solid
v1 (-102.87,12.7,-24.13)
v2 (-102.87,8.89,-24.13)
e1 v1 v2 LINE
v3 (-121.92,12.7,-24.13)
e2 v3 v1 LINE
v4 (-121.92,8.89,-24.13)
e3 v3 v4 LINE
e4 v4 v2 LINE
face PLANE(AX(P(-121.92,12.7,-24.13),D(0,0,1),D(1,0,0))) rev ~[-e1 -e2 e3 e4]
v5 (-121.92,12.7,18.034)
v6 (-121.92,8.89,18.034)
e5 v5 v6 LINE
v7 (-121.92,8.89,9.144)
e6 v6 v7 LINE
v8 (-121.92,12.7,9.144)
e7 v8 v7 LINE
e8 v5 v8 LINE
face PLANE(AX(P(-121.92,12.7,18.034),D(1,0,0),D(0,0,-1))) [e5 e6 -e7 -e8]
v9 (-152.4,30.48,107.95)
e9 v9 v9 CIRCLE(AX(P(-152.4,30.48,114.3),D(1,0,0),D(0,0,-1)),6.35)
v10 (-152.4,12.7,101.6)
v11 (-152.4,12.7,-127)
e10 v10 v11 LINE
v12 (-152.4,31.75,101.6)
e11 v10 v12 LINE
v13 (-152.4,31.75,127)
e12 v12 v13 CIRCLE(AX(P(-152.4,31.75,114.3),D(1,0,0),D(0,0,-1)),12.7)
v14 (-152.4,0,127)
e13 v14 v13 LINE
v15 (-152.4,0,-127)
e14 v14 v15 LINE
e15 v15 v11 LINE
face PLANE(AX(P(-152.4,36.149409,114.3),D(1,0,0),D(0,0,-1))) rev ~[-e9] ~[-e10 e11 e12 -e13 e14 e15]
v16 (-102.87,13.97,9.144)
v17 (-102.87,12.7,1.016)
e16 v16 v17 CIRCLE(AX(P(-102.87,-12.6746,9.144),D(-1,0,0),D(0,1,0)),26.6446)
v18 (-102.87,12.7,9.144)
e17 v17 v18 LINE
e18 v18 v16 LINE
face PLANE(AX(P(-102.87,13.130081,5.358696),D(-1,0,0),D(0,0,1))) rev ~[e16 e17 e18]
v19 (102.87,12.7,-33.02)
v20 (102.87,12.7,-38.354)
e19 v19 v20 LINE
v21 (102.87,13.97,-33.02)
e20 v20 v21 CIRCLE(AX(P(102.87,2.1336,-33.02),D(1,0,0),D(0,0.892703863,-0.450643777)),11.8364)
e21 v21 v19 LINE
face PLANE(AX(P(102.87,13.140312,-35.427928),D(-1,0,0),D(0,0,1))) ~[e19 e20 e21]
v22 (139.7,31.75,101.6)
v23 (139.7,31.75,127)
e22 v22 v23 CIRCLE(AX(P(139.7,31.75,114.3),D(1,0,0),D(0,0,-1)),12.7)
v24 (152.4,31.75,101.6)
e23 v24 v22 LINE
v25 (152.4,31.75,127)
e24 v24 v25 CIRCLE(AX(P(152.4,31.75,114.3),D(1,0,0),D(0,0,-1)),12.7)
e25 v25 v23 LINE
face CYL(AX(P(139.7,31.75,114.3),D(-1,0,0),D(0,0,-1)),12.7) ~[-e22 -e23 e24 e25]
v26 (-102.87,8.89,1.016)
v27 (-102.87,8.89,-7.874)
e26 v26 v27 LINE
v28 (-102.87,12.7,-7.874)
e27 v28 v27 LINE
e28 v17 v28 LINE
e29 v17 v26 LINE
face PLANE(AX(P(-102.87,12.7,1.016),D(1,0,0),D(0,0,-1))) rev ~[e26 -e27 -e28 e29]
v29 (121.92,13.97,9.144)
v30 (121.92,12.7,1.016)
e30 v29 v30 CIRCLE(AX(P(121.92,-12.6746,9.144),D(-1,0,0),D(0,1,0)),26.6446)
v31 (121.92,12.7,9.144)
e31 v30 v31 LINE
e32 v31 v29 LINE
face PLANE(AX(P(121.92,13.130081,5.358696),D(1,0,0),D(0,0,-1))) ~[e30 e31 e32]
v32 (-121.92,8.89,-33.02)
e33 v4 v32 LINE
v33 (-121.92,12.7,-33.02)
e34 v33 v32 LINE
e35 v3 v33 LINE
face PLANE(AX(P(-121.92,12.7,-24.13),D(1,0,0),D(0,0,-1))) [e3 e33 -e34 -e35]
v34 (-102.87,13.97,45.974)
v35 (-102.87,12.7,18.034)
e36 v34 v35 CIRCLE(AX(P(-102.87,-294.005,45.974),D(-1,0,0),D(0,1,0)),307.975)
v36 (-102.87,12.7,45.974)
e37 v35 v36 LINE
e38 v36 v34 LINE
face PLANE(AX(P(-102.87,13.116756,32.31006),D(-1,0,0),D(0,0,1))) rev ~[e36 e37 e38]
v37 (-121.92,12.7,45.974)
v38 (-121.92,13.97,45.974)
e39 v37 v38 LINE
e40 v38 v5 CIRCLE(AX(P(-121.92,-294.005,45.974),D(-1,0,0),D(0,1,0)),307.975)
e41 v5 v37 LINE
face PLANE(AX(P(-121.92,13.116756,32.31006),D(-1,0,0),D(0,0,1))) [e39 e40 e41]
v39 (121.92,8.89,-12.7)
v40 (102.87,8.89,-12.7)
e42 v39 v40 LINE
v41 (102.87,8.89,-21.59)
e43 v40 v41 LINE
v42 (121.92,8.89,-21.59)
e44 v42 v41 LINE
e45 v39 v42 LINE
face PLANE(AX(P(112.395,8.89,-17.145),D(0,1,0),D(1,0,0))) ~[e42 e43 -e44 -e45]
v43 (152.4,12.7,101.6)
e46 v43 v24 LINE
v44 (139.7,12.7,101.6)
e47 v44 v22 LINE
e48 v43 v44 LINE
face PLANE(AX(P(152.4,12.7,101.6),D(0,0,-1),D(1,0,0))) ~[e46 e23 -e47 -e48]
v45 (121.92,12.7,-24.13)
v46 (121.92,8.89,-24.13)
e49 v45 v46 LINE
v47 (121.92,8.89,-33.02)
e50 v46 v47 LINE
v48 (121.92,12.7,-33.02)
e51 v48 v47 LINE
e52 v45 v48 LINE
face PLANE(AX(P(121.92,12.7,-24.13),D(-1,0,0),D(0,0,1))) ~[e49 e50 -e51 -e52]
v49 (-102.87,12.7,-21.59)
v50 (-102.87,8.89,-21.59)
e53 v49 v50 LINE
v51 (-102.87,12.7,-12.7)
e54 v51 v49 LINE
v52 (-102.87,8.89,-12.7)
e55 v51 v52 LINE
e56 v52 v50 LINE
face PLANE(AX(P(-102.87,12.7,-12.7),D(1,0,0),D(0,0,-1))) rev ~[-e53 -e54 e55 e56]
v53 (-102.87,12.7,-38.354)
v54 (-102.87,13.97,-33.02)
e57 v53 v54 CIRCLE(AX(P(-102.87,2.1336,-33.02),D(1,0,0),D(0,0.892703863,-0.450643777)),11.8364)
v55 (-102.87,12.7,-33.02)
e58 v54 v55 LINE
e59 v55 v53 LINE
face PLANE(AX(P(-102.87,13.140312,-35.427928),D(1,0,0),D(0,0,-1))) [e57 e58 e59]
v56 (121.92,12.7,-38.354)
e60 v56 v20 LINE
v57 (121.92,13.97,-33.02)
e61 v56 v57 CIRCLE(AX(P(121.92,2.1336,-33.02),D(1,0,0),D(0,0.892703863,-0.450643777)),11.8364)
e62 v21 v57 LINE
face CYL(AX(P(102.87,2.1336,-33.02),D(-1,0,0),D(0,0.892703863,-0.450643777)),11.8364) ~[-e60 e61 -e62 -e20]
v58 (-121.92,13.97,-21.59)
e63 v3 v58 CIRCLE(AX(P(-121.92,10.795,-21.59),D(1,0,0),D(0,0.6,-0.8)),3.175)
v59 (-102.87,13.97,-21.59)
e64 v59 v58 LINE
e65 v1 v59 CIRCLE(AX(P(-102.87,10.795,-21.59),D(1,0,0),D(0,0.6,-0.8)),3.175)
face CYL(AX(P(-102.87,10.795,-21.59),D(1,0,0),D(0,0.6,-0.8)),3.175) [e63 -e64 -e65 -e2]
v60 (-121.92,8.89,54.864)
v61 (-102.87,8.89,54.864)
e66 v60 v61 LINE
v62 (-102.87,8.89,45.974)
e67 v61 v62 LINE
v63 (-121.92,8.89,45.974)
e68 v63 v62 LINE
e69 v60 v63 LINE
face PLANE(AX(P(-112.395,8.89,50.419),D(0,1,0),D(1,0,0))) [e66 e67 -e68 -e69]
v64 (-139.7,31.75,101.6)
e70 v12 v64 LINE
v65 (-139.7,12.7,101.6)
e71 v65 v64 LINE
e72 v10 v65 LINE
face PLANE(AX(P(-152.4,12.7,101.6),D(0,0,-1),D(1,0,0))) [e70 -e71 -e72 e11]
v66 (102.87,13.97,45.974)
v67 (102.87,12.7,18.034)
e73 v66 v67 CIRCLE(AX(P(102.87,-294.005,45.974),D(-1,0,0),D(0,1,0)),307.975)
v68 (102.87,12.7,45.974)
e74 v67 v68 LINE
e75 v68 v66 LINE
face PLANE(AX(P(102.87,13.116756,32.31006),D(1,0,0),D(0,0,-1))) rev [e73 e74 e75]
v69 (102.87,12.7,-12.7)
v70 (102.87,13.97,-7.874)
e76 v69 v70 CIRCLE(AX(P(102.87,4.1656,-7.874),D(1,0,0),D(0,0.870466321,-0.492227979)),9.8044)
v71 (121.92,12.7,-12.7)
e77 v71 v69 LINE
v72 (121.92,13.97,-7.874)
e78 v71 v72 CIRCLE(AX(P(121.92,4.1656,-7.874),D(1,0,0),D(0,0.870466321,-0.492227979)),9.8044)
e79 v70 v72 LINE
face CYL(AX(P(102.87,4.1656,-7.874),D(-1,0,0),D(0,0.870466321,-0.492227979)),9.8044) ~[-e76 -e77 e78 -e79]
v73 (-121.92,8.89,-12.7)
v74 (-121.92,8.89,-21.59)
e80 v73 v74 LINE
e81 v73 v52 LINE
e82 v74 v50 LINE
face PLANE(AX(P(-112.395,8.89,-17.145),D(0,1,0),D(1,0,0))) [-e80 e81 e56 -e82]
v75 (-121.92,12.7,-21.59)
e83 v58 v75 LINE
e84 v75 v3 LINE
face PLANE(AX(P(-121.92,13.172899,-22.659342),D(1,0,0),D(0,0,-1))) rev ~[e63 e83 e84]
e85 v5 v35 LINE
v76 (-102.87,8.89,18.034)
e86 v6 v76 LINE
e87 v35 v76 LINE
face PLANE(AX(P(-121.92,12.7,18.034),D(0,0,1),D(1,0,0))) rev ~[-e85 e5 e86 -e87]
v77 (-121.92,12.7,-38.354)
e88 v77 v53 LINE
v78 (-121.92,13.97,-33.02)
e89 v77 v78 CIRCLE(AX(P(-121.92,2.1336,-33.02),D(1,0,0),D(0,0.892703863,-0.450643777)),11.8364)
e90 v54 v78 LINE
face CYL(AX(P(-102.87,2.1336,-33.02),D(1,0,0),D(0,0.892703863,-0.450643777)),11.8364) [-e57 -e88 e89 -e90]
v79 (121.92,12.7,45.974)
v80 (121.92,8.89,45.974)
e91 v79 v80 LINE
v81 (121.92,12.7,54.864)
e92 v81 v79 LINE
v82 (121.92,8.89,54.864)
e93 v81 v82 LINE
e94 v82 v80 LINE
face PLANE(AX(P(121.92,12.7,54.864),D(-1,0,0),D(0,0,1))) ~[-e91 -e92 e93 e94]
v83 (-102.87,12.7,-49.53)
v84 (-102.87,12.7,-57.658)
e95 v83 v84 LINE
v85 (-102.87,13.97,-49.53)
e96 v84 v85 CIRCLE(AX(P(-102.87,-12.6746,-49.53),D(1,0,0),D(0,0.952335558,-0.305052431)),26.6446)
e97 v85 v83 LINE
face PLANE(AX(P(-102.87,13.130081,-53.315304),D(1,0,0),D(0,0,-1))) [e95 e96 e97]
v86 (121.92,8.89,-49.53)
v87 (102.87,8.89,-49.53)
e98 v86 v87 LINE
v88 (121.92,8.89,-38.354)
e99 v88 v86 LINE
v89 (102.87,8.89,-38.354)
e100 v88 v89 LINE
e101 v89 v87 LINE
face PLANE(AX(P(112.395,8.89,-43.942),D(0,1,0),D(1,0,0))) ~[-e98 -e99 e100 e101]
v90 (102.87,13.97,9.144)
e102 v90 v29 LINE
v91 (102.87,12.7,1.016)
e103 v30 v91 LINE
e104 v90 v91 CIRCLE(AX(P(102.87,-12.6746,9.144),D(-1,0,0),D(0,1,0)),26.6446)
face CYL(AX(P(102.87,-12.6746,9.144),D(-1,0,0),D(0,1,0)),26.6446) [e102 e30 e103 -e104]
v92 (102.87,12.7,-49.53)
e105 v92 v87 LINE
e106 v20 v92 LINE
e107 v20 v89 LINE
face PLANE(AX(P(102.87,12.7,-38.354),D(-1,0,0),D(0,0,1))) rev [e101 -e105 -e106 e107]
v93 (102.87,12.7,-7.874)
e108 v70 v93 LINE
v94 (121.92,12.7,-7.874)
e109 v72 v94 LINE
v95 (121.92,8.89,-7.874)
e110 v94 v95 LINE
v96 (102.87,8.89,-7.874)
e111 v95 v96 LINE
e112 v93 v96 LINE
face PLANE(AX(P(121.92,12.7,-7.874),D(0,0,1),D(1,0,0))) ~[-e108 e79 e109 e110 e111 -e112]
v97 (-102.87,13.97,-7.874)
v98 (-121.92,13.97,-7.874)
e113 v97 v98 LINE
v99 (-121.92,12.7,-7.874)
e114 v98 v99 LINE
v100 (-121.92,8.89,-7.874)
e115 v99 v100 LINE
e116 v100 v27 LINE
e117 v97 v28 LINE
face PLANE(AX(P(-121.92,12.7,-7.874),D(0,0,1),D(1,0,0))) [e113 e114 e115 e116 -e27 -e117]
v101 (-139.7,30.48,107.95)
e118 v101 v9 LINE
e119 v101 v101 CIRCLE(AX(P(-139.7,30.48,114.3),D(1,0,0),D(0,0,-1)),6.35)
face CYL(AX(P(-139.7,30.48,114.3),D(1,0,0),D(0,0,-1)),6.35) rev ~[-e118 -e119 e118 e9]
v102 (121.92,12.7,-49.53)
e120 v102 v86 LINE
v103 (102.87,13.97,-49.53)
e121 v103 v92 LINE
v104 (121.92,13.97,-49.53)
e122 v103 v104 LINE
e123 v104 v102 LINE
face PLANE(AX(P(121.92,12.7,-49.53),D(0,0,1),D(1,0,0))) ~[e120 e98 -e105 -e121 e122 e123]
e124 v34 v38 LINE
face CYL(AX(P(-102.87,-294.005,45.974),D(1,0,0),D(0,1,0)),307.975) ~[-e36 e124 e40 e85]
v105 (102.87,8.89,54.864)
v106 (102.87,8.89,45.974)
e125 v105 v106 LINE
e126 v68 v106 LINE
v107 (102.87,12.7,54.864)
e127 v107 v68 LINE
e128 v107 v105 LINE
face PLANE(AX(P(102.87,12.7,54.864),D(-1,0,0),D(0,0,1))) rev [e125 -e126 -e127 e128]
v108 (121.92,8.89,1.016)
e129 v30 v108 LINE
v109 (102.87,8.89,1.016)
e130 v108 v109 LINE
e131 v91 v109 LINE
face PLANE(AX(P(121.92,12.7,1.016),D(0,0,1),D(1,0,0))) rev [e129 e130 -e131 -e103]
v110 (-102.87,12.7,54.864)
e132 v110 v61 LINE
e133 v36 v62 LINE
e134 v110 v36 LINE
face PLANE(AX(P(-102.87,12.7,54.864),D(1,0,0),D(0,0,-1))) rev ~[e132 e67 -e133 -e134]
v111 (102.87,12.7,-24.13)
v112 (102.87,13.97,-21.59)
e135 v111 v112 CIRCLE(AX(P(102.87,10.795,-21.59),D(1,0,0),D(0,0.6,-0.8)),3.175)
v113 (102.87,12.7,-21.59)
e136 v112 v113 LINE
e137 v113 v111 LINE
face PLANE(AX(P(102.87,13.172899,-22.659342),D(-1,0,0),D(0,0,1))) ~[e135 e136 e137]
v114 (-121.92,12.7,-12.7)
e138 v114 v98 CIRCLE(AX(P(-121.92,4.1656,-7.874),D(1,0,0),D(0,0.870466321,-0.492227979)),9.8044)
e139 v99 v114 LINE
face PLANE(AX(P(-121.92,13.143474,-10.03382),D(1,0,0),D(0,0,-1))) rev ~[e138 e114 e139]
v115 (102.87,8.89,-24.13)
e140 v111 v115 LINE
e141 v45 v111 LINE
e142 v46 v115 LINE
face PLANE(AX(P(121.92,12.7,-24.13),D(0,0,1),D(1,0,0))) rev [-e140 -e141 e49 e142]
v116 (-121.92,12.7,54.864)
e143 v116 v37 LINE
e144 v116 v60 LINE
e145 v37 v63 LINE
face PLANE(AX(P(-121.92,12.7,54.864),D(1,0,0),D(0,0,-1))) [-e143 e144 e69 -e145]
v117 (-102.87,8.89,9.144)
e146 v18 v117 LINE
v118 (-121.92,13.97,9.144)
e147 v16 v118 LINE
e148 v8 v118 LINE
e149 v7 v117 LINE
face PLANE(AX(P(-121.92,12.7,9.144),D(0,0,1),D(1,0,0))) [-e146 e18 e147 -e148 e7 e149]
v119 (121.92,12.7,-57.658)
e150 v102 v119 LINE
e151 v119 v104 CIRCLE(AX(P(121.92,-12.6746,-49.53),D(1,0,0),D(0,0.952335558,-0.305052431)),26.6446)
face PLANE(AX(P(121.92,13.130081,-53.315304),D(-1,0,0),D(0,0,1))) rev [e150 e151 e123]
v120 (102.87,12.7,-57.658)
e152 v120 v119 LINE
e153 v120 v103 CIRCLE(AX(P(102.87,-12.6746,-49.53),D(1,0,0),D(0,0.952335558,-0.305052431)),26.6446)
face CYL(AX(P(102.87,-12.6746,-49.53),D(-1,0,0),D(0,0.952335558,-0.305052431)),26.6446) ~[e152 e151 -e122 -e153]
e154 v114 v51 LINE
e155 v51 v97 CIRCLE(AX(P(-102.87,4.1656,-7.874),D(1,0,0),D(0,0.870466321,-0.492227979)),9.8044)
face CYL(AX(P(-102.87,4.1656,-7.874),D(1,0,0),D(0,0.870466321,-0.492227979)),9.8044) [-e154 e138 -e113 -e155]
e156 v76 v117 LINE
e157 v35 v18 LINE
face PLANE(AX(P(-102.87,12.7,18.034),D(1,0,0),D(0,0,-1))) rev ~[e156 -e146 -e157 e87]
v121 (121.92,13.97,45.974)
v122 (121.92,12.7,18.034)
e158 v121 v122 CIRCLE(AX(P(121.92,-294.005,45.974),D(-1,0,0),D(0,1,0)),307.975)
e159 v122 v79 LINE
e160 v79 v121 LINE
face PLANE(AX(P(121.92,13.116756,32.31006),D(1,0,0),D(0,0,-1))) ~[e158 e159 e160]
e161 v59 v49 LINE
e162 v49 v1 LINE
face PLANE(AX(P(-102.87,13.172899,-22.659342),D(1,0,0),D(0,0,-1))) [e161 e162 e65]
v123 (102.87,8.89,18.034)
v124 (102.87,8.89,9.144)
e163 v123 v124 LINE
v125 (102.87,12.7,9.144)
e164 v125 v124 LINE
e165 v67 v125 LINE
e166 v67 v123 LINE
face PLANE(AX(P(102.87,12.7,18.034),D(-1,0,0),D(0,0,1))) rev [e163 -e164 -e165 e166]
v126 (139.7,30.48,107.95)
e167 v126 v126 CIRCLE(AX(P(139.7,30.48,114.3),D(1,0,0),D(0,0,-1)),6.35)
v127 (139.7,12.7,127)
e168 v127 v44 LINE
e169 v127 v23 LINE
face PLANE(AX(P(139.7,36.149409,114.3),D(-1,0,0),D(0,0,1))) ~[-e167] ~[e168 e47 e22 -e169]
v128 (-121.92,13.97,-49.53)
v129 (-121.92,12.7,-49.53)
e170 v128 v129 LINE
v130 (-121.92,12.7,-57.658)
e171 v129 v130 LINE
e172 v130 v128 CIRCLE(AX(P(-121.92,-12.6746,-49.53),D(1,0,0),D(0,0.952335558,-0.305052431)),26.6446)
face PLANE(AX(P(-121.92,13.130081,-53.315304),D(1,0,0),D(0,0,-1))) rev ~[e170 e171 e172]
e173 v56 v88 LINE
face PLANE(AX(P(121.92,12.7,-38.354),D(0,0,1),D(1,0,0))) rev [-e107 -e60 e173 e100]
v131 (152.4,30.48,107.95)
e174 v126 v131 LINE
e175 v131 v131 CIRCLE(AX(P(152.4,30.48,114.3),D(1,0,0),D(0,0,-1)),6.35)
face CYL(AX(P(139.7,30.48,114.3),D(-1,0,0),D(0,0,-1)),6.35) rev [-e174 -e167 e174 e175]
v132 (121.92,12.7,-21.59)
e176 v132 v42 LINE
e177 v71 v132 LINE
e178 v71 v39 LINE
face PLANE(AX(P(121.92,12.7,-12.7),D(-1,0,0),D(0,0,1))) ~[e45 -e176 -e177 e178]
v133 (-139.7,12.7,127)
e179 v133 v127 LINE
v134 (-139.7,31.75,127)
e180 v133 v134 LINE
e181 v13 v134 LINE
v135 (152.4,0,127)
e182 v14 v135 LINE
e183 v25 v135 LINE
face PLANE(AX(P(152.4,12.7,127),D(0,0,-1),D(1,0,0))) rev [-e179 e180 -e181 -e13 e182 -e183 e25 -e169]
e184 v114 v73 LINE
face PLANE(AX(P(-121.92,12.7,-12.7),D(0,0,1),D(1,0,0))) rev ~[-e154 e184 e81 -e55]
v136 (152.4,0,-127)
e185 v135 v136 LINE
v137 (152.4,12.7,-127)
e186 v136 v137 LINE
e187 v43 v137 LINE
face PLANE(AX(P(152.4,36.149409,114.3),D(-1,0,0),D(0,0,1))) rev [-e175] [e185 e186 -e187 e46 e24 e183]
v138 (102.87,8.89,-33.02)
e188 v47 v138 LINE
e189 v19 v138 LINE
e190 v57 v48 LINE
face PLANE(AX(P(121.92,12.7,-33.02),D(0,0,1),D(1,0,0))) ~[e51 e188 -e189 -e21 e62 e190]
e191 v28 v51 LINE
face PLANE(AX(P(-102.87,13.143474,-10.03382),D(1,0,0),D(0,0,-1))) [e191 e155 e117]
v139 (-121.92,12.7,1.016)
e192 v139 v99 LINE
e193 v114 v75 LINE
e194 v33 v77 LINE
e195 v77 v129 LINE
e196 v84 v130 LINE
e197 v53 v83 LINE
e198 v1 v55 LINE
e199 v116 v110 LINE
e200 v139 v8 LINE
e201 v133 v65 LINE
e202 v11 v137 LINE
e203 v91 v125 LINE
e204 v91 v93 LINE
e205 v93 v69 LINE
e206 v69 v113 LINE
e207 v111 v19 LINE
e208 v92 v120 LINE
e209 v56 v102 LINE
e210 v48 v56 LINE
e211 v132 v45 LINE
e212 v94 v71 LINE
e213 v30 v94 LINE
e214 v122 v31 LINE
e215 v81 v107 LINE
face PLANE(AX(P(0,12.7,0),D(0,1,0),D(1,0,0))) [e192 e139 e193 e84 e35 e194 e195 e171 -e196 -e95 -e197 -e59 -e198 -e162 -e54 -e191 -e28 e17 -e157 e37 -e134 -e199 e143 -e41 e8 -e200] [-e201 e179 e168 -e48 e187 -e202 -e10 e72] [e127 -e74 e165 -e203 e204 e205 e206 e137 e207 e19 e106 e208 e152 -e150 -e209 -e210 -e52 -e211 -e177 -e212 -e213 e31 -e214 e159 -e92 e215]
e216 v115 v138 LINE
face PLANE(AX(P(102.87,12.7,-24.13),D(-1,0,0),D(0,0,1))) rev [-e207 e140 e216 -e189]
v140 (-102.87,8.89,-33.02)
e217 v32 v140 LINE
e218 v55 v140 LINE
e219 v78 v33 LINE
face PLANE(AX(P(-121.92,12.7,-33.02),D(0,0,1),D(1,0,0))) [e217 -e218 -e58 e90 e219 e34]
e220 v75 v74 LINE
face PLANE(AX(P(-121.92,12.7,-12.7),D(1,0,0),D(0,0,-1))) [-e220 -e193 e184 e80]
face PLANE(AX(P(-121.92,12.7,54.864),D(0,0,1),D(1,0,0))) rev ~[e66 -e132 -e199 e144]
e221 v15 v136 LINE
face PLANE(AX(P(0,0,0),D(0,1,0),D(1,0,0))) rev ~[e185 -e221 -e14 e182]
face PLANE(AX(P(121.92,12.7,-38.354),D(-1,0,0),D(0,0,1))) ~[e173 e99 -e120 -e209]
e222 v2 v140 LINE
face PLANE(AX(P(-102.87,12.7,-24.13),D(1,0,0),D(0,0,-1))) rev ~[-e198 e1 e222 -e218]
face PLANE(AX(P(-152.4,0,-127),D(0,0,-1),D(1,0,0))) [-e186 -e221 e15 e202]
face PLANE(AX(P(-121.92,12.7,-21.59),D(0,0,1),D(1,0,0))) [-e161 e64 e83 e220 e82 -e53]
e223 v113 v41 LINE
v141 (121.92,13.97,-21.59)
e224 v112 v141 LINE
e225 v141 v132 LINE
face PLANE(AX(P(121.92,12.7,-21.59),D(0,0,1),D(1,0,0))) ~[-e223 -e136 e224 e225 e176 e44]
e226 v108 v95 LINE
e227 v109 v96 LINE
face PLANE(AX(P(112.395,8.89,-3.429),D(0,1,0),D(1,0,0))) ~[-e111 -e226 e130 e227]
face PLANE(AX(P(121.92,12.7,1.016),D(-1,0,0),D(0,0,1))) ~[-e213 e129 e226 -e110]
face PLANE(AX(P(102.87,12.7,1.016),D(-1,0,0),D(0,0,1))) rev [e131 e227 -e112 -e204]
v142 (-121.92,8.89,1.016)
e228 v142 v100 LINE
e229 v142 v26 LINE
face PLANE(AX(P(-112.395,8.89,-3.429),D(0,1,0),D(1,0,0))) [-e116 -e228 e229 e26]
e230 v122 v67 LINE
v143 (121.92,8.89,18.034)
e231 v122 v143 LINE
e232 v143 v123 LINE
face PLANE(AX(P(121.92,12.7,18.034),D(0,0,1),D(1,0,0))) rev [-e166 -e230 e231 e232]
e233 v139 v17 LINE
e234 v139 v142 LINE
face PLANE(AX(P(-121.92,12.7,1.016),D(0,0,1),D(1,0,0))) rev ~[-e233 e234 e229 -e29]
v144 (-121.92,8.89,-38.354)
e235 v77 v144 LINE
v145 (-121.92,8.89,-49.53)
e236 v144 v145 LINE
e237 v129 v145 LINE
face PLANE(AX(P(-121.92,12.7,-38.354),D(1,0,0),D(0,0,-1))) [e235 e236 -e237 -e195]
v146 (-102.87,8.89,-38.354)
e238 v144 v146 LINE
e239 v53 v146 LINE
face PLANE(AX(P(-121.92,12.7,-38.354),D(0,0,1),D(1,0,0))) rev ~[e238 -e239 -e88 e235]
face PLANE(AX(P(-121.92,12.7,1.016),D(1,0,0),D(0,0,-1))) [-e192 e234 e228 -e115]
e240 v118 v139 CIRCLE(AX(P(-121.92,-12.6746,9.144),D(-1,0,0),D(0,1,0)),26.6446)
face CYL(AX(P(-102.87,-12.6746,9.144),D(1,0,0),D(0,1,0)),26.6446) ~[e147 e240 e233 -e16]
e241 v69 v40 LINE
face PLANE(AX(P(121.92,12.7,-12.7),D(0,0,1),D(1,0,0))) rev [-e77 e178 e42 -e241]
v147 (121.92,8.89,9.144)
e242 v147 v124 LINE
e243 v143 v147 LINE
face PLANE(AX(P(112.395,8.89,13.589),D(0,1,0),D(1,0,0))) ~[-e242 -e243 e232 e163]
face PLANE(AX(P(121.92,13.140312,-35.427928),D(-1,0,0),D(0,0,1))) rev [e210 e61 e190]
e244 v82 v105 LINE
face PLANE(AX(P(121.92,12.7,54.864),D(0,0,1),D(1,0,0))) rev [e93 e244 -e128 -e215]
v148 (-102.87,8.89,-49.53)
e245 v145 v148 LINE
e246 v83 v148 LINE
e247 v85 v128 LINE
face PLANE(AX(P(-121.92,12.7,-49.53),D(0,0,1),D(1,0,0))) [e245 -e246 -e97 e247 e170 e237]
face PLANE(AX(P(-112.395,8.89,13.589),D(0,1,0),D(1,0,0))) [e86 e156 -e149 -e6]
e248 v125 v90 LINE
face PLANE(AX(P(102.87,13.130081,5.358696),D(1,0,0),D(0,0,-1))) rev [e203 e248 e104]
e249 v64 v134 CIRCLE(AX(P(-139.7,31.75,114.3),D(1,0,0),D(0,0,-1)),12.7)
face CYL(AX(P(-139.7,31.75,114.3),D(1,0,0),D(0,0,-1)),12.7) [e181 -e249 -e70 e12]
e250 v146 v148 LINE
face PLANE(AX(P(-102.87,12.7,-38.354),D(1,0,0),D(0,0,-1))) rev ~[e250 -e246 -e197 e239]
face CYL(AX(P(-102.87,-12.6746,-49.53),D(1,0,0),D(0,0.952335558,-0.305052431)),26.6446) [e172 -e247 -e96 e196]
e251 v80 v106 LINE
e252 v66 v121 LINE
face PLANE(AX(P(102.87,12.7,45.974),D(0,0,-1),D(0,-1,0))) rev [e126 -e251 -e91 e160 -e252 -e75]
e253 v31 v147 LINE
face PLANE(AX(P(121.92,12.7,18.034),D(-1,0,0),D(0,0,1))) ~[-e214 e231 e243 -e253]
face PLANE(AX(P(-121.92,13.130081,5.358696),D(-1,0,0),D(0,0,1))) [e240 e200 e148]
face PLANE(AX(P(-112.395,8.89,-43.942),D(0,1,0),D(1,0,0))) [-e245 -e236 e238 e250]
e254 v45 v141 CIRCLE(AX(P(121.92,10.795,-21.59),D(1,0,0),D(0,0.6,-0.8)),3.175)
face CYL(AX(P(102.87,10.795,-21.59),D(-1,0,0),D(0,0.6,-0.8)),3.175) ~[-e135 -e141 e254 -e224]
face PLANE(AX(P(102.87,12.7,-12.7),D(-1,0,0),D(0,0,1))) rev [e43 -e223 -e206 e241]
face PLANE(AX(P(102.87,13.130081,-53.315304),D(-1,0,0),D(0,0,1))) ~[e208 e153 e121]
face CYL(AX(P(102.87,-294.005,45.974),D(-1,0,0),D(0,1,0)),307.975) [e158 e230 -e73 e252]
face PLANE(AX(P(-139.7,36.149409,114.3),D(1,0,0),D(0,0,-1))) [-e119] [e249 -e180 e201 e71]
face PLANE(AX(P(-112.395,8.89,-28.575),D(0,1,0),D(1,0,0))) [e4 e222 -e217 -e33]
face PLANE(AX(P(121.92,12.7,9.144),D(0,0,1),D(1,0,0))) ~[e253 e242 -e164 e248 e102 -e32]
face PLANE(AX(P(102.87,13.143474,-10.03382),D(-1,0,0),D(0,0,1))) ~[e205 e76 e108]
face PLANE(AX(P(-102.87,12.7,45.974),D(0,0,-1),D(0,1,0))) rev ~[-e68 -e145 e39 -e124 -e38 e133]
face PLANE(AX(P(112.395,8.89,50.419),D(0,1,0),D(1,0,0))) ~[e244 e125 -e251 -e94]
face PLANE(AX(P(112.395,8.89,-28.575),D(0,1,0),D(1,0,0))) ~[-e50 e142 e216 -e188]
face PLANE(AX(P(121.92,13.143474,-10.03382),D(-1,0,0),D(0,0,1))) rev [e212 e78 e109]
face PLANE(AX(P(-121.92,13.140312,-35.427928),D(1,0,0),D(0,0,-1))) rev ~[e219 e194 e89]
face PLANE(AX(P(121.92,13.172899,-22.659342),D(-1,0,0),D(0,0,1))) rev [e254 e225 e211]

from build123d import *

# Parameters (mm, degrees)
SKETCH1_W           = 304.8
SKETCH1_H           = 254
BOSS_EXTRUDE1_DEPTH = 12.7
SKETCH2_W           = 12.7
SKETCH2_H           = 25.4
BOSS_EXTRUDE2_DEPTH = 19.05
BOSS_EXTRUDE3_DEPTH = 12.7
SKETCH5_R           = 6.35
CUT_EXTRUDE1_DEPTH  = 12.7
SKETCH6_W           = 19.05
SKETCH6_H           = 8.89
SKETCH6_H_2         = 11.176
CUT_EXTRUDE2_DEPTH  = 3.81
BOSS_EXTRUDE4_DEPTH = 19.05


with BuildPart() as part:
    # Sketch1 → Boss-Extrude1 (new body)
    with BuildSketch(Plane(origin=(0, 0, 0), x_dir=(1, 0, 0), z_dir=(0, 1, 0))):
        Rectangle(SKETCH1_W, SKETCH1_H)
    extrude(amount=BOSS_EXTRUDE1_DEPTH)

    # Sketch2 → Boss-Extrude2 (add)
    with BuildSketch(Plane(origin=(0, 12.7, 0), x_dir=(1, 0, 0), z_dir=(0, 1, 0))):
        with Locations((-146.05, -114.3)):
            Rectangle(SKETCH2_W, SKETCH2_H)
    boss_extrude2 = extrude(amount=BOSS_EXTRUDE2_DEPTH)

    # Sketch4 → Boss-Extrude3 (add)
    with BuildSketch(Plane(origin=(-139.7, 0, 0), x_dir=(0, 0, -1), z_dir=(1, 0, 0))):
        with BuildLine():
            Line((-127, 31.75), (-101.6, 31.75))
            ThreePointArc((-101.6, 31.75), (-114.3, 44.45), (-127, 31.75))
        make_face()
    boss_extrude3 = extrude(amount=-BOSS_EXTRUDE3_DEPTH)

    # Sketch5 → Cut-Extrude1 (cut)
    with BuildSketch(Plane(origin=(-139.7, 0, 0), x_dir=(0, 0, -1), z_dir=(1, 0, 0))):
        with Locations((-114.3, 30.48)):
            Circle(SKETCH5_R)
    cut_extrude1 = extrude(amount=-CUT_EXTRUDE1_DEPTH, mode=Mode.SUBTRACT)

    # Mirror1: Boss-Extrude2, Boss-Extrude3, Cut-Extrude1 across plane
    add(boss_extrude2.mirror(Plane(origin=(0, 0, 0), x_dir=(0, 0, 1), z_dir=(1, 0, 0))))
    add(boss_extrude3.mirror(Plane(origin=(0, 0, 0), x_dir=(0, 0, 1), z_dir=(1, 0, 0))))
    add(cut_extrude1.mirror(Plane(origin=(0, 0, 0), x_dir=(0, 0, 1), z_dir=(1, 0, 0))), mode=Mode.SUBTRACT)

    # Sketch6 → Cut-Extrude2 (cut)
    with BuildSketch(Plane(origin=(0, 12.7, 0), x_dir=(1, 0, 0), z_dir=(0, 1, 0))):
        with Locations((-112.395, -50.419)):
            Rectangle(SKETCH6_W, SKETCH6_H)
        with Locations((-112.395, -13.589)):
            Rectangle(SKETCH6_W, SKETCH6_H)
        with Locations((-112.395, 17.145)):
            Rectangle(SKETCH6_W, SKETCH6_H)
        with Locations((-112.395, 3.429)):
            Rectangle(SKETCH6_W, SKETCH6_H)
        with Locations((-112.395, 28.575)):
            Rectangle(SKETCH6_W, SKETCH6_H)
        with Locations((-112.395, 43.942)):
            Rectangle(SKETCH6_W, SKETCH6_H_2)
    cut_extrude2 = extrude(amount=-CUT_EXTRUDE2_DEPTH, mode=Mode.SUBTRACT)

    # Sketch7 → Boss-Extrude4 (add)
    with BuildSketch(Plane.ZY.offset(102.87)):
        with BuildLine():
            Line((45.974, 12.7), (45.974, 13.97))
            ThreePointArc((45.974, 13.97), (31.989575629, 13.652336171), (18.034, 12.7))
            Line((18.034, 12.7), (45.974, 12.7))
        make_face()
        with BuildLine():
            Line((9.144, 12.7), (9.144, 13.97))
            ThreePointArc((9.144, 13.97), (5.030689776, 13.650585434), (1.016, 12.7))
            Line((1.016, 12.7), (9.144, 12.7))
        make_face()
        with BuildLine():
            Line((-7.874, 12.7), (-12.7, 12.7))
            ThreePointArc((-12.7, 12.7), (-10.369154103, 13.647185593), (-7.874, 13.97))
            Line((-7.874, 13.97), (-7.874, 12.7))
        make_face()
        with BuildLine():
            Line((-21.59, 12.7), (-24.13, 12.7))
            ThreePointArc((-24.13, 12.7), (-23.009903166, 13.634806331), (-21.59, 13.97))
            Line((-21.59, 13.97), (-21.59, 12.7))
        make_face()
        with BuildLine():
            Line((-33.02, 12.7), (-38.354, 12.7))
            ThreePointArc((-38.354, 12.7), (-35.761553209, 13.64812348), (-33.02, 13.97))
            Line((-33.02, 13.97), (-33.02, 12.7))
        make_face()
        with BuildLine():
            Line((-49.53, 12.7), (-57.658, 12.7))
            ThreePointArc((-57.658, 12.7), (-53.643310224, 13.650585434), (-49.53, 13.97))
            Line((-49.53, 13.97), (-49.53, 12.7))
        make_face()
    boss_extrude4 = extrude(amount=BOSS_EXTRUDE4_DEPTH)

    # Mirror2: Cut-Extrude2, Boss-Extrude4 across plane
    add(cut_extrude2.mirror(Plane(origin=(0, 0, 0), x_dir=(0, 0, 1), z_dir=(1, 0, 0))), mode=Mode.SUBTRACT)
    add(boss_extrude4.mirror(Plane(origin=(0, 0, 0), x_dir=(0, 0, 1), z_dir=(1, 0, 0))))


solid = part.part
